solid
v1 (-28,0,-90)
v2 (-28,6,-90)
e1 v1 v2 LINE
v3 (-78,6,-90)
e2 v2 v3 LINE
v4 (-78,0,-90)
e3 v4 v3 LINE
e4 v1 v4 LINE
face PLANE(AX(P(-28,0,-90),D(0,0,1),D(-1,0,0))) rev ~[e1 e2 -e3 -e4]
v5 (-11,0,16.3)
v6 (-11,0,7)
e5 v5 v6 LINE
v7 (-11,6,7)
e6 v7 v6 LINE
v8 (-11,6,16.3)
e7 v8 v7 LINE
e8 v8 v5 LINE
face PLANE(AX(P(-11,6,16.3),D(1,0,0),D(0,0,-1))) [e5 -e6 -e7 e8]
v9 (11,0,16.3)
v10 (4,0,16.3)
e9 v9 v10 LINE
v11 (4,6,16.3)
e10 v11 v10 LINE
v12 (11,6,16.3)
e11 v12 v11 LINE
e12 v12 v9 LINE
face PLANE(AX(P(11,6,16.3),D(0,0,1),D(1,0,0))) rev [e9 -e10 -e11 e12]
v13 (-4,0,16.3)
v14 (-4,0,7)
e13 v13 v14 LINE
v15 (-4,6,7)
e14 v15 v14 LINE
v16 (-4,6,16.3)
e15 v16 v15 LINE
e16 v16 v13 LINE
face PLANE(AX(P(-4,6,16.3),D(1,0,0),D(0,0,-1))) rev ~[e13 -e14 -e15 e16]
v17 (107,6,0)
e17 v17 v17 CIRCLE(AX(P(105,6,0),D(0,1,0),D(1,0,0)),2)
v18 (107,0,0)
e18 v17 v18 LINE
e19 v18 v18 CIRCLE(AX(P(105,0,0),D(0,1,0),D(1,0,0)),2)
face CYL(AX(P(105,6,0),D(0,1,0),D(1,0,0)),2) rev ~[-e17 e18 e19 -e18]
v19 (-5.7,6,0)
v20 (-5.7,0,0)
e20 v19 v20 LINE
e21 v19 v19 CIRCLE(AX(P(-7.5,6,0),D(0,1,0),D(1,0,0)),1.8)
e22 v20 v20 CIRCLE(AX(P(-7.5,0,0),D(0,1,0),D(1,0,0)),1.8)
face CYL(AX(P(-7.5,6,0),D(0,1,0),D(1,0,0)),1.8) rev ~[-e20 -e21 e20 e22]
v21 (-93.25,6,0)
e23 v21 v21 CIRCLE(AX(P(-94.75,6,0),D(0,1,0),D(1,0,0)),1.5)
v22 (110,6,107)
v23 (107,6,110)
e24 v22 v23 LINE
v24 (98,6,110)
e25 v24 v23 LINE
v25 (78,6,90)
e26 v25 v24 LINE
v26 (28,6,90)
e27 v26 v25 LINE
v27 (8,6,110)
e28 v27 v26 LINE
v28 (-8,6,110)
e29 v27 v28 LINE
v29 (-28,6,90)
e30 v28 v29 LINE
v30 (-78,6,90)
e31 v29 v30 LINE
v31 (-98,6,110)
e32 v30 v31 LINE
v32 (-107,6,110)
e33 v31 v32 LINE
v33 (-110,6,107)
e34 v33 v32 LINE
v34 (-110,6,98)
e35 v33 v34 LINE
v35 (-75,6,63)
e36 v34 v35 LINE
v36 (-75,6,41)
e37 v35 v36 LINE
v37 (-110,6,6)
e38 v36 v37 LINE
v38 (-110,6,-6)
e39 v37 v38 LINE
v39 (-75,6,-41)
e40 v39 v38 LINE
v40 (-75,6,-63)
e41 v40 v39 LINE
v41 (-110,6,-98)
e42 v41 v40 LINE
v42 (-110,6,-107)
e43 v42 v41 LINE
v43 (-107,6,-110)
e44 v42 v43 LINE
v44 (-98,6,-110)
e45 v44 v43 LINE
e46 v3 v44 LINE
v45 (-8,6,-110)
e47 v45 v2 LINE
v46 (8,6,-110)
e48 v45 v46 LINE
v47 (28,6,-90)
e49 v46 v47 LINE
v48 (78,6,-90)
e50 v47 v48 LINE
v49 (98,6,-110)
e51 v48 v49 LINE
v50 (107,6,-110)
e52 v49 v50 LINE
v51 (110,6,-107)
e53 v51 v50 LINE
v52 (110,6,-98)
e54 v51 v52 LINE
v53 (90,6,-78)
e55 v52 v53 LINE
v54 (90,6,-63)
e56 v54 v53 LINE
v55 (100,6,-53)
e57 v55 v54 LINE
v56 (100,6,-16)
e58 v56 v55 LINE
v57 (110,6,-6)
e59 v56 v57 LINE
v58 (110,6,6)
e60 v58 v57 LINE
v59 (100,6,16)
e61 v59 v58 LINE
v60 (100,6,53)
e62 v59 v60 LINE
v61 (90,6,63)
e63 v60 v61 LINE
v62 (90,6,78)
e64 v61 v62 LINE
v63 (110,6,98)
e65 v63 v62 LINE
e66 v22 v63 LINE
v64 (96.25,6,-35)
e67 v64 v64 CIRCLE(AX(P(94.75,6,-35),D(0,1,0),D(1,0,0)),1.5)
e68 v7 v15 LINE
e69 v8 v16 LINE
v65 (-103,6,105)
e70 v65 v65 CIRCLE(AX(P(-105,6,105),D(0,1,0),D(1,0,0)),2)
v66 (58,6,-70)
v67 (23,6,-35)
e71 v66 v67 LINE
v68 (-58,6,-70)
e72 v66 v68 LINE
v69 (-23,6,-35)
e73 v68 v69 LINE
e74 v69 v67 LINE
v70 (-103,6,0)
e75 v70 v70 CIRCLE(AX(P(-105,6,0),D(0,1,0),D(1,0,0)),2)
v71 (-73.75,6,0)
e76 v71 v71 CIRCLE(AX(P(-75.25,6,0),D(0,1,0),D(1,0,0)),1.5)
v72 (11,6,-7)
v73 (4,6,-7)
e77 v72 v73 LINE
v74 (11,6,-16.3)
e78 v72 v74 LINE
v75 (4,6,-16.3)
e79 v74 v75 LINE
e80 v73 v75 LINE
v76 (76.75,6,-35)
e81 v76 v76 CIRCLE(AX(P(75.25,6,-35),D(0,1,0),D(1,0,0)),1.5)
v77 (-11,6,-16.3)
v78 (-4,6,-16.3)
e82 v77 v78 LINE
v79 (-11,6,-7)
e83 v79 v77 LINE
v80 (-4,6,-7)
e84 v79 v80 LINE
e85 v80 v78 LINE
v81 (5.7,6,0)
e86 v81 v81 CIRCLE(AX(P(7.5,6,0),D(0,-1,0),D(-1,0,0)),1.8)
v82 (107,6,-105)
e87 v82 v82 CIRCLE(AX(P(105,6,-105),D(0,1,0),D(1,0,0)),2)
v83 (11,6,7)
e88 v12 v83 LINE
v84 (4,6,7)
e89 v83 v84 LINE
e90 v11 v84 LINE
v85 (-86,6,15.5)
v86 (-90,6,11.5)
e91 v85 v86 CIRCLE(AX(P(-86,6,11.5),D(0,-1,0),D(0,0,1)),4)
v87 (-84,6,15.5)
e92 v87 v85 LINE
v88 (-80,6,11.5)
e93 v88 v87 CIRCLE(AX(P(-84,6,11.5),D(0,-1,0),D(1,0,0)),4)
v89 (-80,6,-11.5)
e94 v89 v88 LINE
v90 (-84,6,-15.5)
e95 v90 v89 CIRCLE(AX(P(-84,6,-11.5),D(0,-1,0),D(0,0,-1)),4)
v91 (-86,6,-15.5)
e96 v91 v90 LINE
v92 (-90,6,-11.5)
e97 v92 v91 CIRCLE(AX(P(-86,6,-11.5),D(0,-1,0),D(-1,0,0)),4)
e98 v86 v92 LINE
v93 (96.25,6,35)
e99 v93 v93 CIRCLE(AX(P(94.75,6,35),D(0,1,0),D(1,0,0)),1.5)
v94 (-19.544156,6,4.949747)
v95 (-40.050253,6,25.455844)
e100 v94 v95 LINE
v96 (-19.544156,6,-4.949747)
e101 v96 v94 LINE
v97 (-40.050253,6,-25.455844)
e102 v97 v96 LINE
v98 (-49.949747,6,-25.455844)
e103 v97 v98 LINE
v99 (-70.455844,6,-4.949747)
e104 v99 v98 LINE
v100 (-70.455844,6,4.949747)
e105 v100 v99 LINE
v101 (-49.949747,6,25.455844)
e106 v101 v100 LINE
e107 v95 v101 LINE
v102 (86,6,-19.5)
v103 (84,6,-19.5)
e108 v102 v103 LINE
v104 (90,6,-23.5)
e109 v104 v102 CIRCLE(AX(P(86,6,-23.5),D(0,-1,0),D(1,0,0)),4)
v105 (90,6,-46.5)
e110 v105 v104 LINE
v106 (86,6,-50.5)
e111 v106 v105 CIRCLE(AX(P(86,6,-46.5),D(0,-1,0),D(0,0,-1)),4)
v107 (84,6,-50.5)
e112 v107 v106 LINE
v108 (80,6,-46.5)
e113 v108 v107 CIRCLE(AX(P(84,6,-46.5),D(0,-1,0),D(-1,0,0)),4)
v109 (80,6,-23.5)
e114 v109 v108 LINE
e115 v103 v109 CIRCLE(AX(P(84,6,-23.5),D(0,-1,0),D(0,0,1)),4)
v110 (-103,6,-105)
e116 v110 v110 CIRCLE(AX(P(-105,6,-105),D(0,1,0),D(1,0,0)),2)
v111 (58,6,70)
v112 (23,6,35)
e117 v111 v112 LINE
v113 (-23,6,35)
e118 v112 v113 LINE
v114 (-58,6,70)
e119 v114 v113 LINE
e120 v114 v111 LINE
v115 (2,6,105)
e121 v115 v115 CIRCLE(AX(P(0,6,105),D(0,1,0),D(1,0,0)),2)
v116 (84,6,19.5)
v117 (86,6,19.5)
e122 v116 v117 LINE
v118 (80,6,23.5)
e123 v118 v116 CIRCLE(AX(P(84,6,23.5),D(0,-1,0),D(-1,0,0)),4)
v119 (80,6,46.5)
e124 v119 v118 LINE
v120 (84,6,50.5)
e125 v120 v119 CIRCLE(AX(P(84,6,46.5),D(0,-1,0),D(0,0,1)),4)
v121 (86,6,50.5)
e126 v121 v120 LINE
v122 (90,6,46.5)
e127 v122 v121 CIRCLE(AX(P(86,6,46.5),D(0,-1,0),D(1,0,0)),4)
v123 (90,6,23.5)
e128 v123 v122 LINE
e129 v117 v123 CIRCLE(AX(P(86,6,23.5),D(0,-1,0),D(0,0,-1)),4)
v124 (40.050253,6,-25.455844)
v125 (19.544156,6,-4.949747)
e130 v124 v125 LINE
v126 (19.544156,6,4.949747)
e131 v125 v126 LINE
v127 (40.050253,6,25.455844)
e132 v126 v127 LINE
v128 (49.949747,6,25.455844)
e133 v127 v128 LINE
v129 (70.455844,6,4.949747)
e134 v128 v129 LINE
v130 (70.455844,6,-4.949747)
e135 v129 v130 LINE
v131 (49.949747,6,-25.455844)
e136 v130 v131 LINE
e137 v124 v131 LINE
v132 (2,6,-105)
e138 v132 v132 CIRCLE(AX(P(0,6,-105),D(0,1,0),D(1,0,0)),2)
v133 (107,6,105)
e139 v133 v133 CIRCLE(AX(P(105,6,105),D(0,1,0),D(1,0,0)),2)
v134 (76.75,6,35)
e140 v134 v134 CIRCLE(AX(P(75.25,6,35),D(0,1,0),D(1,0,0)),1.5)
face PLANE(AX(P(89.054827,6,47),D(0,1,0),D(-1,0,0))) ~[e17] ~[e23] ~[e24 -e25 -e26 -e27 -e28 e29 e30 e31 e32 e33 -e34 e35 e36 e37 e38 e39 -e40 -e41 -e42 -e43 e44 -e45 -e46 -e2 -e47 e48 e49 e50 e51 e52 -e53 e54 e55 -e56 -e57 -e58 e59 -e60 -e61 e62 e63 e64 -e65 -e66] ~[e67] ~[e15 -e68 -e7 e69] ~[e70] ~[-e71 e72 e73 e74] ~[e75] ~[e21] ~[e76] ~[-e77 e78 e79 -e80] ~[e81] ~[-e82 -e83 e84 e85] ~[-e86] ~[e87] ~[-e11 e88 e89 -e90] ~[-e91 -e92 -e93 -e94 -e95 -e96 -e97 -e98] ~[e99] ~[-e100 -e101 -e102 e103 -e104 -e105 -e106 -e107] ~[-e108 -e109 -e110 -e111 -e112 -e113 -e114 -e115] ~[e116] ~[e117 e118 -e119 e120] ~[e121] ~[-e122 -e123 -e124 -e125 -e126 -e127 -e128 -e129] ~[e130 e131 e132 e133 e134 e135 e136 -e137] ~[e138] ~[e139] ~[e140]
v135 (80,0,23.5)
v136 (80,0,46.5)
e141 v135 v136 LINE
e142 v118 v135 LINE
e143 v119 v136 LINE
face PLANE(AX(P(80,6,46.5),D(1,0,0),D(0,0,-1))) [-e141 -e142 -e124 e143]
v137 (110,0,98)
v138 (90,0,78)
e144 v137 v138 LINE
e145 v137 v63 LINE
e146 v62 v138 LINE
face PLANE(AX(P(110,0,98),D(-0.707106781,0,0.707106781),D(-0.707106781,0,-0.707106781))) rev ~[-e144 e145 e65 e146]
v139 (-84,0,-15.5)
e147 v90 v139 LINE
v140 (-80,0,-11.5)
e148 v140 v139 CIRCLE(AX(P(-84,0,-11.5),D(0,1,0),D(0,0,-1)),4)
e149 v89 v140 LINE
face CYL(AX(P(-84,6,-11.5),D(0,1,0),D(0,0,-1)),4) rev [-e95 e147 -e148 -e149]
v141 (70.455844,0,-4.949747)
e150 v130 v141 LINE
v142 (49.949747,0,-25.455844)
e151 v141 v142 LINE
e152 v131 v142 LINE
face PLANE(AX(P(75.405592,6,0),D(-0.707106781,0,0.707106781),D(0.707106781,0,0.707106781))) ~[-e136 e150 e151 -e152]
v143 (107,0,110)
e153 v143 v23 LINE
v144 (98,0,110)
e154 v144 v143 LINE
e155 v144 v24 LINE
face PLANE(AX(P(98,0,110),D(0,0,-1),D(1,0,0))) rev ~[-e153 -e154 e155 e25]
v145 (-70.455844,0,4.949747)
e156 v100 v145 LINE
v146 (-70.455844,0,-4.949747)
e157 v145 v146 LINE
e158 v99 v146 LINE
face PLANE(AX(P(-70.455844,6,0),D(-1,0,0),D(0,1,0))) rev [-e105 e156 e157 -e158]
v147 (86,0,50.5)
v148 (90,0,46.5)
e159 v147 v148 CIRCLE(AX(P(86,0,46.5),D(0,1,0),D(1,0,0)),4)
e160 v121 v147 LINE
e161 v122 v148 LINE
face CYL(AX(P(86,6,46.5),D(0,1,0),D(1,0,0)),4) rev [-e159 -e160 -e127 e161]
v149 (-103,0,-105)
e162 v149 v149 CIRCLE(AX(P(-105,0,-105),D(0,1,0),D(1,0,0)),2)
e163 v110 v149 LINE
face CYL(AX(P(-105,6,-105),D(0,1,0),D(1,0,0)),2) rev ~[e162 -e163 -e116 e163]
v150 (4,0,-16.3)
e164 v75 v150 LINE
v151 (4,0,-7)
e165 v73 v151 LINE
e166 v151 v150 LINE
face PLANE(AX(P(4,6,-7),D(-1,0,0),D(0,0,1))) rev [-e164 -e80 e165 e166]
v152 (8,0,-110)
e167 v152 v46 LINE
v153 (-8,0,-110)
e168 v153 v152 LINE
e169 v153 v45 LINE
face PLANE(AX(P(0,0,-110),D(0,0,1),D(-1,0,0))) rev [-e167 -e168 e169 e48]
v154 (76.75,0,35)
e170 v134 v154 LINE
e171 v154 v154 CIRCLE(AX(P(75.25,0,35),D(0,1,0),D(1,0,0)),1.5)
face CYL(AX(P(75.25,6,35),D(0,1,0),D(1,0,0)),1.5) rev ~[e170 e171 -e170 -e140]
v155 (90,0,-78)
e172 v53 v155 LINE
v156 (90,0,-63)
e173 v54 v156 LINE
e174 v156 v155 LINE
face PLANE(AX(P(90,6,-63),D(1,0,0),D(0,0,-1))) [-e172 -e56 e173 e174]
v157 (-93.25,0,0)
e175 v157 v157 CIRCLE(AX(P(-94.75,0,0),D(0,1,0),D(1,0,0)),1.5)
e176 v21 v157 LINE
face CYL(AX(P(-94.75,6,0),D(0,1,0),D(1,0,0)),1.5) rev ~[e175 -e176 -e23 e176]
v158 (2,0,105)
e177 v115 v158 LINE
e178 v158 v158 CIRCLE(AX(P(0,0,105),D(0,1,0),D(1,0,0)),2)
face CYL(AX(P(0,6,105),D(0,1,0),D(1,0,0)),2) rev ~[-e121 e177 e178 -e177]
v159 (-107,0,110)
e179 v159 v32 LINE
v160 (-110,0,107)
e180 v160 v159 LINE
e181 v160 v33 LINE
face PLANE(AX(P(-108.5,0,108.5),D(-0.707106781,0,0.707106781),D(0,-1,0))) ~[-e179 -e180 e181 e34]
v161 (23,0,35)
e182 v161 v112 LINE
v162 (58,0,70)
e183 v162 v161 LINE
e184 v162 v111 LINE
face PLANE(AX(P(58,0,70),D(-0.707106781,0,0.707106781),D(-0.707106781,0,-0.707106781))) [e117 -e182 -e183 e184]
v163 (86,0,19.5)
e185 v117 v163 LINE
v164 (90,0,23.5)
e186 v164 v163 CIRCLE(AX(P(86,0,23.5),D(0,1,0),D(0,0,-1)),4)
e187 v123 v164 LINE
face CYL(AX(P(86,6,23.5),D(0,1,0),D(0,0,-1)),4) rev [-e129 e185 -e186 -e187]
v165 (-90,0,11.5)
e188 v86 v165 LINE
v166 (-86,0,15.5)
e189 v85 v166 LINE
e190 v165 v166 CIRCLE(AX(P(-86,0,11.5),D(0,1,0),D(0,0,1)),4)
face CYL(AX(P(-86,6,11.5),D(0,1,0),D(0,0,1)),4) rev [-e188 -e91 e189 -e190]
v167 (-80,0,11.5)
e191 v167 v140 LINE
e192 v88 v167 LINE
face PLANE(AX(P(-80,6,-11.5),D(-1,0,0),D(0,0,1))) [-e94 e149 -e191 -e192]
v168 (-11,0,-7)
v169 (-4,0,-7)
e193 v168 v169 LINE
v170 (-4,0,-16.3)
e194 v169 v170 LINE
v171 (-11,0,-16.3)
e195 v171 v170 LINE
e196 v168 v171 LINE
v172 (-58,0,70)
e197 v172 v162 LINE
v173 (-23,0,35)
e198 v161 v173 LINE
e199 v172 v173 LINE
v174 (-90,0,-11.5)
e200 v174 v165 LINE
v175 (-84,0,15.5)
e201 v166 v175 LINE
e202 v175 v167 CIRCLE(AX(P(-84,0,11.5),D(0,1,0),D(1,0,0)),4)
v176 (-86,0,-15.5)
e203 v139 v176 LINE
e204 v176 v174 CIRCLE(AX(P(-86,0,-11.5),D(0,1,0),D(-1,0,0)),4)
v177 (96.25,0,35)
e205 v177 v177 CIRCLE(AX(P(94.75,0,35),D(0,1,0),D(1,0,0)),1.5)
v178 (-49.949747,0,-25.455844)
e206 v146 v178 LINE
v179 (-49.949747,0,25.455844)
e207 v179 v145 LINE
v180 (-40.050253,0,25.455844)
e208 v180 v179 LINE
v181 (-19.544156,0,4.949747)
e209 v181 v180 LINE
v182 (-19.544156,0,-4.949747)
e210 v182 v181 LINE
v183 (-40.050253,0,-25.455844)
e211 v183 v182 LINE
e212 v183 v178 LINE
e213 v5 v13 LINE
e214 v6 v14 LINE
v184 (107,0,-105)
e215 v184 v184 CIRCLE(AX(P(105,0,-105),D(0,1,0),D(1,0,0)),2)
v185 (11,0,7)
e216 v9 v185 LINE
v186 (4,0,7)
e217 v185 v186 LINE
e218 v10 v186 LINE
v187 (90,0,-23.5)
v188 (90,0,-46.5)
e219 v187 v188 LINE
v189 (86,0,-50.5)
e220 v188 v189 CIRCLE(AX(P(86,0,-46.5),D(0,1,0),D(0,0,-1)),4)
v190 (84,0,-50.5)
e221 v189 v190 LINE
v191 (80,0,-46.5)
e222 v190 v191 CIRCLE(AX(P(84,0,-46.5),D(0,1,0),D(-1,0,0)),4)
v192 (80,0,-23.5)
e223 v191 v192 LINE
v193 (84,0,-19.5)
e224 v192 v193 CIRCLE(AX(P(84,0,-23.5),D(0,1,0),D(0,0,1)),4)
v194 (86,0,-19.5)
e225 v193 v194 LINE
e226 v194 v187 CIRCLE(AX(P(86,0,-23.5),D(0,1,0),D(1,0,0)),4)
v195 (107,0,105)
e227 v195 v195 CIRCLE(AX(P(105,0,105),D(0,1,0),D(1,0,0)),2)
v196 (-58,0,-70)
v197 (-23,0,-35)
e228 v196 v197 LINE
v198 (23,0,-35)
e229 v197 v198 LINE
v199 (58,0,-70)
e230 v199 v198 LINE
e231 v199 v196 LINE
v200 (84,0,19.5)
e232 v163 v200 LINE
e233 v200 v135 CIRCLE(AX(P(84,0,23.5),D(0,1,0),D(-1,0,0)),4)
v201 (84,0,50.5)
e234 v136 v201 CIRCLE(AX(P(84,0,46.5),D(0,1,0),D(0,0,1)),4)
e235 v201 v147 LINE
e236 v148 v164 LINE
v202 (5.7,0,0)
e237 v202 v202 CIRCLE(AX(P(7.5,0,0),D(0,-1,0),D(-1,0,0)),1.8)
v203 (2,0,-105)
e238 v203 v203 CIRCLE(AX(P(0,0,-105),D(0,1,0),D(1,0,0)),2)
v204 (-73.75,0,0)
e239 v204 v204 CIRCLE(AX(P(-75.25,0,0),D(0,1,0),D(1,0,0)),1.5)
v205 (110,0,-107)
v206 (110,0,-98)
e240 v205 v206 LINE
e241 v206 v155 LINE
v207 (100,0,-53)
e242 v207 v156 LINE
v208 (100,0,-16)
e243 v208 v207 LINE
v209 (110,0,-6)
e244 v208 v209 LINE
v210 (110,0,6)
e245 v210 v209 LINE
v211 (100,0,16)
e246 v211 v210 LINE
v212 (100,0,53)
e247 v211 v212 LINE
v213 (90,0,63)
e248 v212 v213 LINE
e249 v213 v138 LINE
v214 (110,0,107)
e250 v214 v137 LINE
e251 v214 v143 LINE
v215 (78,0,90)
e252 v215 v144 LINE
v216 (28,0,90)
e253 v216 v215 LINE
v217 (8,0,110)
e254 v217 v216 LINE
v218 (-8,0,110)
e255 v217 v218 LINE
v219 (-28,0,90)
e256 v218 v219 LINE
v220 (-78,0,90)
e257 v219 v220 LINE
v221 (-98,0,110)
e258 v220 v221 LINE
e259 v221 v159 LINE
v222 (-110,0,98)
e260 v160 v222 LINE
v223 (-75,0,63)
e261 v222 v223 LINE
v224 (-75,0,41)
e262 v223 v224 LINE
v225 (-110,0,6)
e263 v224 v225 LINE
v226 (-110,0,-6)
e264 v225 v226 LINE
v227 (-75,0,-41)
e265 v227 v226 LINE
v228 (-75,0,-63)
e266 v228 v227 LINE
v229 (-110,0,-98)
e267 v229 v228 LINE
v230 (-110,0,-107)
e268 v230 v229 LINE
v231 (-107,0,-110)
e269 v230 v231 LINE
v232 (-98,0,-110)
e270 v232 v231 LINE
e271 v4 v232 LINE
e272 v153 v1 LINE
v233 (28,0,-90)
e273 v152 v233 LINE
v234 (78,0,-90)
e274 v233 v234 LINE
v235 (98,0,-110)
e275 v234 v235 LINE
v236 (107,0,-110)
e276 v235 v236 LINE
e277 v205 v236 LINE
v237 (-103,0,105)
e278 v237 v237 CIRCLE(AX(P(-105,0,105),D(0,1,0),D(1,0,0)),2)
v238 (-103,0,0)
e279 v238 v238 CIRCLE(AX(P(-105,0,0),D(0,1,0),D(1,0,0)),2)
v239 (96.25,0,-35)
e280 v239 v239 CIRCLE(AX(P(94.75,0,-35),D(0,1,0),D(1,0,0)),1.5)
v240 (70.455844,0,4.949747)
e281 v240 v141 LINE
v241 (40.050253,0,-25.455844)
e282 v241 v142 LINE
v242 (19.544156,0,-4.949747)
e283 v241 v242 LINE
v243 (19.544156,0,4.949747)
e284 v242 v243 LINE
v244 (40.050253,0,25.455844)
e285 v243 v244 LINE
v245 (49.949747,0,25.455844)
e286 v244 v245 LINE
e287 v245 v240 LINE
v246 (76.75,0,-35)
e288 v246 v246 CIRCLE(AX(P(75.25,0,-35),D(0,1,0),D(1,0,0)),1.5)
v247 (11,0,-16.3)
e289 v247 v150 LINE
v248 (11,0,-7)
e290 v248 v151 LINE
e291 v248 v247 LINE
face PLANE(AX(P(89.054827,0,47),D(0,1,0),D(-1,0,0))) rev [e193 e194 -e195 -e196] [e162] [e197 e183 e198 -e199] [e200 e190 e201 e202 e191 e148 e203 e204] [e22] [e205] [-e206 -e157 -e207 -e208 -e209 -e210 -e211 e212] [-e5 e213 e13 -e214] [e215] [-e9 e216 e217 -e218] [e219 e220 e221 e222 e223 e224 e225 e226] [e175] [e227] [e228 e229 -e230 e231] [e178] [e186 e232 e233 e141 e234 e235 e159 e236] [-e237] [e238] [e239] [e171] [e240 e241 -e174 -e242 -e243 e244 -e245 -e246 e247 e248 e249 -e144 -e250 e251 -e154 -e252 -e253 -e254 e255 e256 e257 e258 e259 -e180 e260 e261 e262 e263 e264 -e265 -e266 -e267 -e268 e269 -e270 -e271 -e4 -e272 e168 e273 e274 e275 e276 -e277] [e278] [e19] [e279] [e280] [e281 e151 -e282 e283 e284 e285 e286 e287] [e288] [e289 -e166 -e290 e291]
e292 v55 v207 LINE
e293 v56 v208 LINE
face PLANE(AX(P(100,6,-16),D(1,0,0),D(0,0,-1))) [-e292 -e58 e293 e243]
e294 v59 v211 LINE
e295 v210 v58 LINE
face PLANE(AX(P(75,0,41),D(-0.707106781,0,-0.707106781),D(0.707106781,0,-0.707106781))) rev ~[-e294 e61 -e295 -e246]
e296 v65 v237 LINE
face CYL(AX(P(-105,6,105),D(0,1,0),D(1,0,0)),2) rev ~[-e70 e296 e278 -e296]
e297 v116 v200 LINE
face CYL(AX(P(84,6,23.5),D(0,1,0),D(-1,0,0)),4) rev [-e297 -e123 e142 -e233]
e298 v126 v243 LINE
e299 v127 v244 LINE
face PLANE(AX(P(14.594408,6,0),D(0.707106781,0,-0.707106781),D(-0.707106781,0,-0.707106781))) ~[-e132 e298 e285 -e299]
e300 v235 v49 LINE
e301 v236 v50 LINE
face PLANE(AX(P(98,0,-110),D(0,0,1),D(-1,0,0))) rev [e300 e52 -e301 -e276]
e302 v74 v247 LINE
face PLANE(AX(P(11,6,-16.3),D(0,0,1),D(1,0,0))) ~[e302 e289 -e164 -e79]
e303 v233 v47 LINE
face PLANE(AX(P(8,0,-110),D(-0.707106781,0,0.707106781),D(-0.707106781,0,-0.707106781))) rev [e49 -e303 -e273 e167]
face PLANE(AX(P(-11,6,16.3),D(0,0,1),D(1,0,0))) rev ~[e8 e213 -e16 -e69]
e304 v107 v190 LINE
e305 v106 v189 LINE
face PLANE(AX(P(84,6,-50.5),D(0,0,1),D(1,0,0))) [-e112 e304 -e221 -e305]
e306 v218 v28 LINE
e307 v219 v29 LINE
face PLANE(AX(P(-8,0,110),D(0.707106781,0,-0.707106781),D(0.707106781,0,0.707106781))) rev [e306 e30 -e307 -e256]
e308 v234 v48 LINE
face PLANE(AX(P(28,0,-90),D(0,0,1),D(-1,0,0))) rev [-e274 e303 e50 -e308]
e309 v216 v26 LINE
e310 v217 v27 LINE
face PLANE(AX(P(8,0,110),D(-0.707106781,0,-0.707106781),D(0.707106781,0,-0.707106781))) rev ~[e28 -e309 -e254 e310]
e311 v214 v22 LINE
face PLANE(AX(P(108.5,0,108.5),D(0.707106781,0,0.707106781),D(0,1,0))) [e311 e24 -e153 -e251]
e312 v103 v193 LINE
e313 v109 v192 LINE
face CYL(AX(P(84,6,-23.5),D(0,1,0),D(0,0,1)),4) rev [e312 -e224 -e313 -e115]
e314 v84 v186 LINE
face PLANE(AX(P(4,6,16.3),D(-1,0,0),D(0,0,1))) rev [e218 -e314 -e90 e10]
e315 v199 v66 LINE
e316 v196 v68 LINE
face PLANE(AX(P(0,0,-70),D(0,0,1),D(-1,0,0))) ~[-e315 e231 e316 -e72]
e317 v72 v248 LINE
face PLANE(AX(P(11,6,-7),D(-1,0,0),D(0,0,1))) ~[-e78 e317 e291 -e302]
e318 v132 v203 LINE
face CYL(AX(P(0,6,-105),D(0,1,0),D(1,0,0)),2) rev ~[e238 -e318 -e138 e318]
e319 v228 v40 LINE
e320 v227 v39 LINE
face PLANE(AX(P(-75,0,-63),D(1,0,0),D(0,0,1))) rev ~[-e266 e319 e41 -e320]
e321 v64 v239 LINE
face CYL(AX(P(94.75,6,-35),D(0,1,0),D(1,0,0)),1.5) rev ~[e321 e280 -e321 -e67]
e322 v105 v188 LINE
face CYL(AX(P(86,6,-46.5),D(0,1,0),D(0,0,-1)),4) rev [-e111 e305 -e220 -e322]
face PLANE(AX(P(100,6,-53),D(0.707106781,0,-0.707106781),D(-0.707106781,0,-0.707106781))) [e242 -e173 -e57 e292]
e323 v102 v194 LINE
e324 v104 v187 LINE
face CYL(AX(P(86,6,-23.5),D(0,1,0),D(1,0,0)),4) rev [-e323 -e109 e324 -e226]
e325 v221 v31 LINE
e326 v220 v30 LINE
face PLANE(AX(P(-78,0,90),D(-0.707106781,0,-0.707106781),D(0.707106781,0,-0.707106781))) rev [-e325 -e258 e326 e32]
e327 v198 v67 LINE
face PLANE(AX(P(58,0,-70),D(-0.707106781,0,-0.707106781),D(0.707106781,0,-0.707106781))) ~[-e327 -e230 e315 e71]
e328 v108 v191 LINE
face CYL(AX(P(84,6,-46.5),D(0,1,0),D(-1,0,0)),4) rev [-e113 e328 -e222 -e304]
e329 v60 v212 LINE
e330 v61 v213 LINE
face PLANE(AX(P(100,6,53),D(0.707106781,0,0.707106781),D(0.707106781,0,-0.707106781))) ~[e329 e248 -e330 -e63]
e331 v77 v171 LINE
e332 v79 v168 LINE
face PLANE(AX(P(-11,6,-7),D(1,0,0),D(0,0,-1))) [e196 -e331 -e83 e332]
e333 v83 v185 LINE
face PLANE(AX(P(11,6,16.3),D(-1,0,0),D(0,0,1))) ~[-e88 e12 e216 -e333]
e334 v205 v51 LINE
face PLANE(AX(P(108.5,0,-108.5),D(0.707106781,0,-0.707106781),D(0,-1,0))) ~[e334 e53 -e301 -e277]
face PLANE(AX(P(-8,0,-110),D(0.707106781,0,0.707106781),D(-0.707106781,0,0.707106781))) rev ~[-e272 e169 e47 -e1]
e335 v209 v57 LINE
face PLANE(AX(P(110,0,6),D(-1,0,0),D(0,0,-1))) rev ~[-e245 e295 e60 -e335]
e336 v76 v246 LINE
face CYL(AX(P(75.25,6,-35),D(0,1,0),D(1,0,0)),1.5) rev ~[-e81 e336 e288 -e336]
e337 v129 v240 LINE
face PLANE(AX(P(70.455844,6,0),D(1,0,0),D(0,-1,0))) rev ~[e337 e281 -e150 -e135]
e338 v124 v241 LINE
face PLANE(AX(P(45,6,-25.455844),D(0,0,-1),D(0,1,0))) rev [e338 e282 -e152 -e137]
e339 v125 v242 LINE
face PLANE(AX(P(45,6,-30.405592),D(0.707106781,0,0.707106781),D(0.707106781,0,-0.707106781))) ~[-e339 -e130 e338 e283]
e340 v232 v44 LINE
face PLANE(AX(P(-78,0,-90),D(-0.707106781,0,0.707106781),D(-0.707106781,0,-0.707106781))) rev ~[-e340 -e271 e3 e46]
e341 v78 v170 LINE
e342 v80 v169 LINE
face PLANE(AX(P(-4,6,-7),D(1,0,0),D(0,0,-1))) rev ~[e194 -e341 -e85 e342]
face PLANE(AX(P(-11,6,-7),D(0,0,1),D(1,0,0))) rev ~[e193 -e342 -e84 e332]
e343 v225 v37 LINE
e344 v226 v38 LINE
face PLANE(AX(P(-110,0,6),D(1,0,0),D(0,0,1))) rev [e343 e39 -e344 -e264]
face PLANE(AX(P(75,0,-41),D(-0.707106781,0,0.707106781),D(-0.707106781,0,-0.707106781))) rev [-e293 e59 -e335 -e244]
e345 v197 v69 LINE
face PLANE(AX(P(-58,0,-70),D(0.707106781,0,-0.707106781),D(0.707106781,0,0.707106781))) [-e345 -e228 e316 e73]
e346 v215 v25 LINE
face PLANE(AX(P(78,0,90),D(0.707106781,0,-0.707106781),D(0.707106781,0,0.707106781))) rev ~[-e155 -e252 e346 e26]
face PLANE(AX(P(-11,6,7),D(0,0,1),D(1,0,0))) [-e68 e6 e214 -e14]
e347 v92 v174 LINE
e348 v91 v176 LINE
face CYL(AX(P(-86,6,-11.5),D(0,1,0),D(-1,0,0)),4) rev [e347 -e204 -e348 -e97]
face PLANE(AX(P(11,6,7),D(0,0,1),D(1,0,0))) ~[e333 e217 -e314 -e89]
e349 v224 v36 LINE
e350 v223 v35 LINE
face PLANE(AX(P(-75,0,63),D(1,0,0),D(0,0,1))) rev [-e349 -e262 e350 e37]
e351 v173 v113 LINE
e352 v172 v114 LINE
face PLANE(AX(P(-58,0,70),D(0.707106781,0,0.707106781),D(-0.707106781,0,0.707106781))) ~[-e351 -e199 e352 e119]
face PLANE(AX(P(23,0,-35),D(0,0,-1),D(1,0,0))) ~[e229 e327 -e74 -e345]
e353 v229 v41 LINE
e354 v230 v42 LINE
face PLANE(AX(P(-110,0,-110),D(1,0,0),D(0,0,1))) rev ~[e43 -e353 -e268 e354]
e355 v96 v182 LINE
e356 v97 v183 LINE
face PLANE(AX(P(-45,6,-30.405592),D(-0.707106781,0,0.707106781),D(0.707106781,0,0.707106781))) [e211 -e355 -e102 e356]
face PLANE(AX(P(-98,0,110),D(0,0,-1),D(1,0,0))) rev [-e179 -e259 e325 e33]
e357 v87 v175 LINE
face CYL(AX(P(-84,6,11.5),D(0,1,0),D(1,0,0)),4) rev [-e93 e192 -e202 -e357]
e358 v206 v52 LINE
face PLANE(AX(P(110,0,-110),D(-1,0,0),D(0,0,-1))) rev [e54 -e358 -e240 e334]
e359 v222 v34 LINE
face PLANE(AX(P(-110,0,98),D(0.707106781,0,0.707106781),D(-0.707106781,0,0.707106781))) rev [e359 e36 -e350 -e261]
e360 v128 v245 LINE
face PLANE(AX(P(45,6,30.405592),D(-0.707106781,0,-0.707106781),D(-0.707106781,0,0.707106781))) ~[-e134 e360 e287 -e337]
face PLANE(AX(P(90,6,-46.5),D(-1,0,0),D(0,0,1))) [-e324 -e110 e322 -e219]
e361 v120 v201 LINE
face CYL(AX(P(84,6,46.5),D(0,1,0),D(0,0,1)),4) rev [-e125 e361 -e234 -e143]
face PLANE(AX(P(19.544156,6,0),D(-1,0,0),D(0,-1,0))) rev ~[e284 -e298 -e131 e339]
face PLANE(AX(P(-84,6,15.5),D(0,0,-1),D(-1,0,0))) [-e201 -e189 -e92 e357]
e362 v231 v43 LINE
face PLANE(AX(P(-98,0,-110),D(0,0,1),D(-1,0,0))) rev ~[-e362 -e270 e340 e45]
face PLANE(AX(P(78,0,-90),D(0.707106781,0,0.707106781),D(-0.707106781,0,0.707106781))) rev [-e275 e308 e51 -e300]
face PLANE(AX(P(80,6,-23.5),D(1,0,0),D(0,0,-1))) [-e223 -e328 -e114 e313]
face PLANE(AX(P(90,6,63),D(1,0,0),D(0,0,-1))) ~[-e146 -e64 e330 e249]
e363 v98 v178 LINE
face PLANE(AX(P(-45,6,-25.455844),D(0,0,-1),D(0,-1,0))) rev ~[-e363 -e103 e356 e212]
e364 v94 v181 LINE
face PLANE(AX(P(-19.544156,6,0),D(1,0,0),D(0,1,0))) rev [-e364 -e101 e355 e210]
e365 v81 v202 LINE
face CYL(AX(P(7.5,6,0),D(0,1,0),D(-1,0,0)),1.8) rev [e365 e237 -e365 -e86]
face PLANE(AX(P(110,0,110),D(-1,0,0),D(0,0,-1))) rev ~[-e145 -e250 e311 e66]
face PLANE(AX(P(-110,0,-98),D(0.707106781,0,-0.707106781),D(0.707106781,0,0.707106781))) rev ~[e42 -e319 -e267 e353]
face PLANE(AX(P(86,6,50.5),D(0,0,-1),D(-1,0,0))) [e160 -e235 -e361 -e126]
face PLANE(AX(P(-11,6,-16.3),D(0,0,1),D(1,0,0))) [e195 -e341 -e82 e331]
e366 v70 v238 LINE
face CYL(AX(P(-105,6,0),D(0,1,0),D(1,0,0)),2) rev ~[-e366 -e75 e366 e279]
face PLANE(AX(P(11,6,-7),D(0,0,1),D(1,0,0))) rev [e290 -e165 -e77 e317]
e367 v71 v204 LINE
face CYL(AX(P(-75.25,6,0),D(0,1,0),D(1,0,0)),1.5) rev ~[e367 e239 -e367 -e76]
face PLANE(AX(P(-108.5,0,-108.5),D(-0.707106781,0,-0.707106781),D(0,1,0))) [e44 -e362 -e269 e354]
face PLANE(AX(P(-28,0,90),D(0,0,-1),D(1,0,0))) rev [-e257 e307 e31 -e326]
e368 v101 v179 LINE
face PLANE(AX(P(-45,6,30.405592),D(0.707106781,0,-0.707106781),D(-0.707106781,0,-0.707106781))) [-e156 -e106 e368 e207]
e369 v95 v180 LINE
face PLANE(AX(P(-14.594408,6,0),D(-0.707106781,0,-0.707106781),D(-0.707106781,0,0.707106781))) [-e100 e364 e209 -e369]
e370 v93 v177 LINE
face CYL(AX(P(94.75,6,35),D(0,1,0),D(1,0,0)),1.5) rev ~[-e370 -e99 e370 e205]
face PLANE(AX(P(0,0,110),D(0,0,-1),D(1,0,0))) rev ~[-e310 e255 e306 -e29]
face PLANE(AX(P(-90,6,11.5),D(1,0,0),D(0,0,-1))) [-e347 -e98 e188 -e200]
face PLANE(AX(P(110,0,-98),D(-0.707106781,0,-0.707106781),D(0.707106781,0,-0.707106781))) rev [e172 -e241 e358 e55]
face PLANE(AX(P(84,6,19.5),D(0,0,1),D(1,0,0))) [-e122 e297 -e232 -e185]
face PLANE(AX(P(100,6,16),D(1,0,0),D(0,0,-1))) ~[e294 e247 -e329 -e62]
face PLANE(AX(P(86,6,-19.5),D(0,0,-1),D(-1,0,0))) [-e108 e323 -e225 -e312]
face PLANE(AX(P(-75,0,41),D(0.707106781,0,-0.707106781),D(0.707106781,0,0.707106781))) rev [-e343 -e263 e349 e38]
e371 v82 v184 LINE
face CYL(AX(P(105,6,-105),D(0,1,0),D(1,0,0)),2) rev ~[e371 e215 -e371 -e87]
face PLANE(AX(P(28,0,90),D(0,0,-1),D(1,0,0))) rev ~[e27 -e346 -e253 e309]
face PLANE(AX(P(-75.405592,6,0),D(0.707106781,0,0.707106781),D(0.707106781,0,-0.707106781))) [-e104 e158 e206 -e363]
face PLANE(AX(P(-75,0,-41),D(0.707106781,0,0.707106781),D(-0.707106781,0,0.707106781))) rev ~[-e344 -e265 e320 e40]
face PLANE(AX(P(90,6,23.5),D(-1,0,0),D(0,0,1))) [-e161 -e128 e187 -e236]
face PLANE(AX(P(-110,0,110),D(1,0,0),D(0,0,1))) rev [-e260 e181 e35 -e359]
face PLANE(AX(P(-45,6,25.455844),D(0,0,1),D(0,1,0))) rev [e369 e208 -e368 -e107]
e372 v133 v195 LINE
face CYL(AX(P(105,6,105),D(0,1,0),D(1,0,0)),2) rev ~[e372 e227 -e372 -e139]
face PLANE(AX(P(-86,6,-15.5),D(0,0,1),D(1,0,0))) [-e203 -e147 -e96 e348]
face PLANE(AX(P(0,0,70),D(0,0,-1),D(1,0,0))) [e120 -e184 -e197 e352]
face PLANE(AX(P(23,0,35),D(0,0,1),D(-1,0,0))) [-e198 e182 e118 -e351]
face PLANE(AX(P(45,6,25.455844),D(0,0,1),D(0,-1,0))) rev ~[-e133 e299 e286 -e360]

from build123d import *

# Parameters (mm, degrees)
BOSS_EXTRU_1_DEPTH      = 6
ENL_V_MAT_EXTRU_2_DEPTH = 6
CHANFREIN1_SIZE         = 3
ESQUISSE4_R             = 1.8
ESQUISSE4_W             = 7
ESQUISSE4_H             = 9.3
ENL_V_MAT_EXTRU_3_DEPTH = 6
CHANFREIN2_SIZE         = 7
BOSS_EXTRU_2_DEPTH      = 6
ESQUISSE11_R            = 2
ENL_V_MAT_EXTRU_6_DEPTH = 6
ESQUISSE12_R            = 1.5
ENL_V_MAT_EXTRU_7_DEPTH = 10


with BuildPart() as part:
    # Esquisse1 → Boss.-Extru.1 (new body)
    with BuildSketch(Plane(origin=(0, 0, 0), x_dir=(1, 0, 0), z_dir=(0, 1, 0))):
        Polygon((0, 0), (0, 110), (-8, 110), (-28, 90), (-78, 90), (-98, 110), (-110, 110), (-110, 98), (-75, 63), (-75, 41), (-110, 6), (-110, 0), align=None)
    extrude(amount=BOSS_EXTRU_1_DEPTH)

    # Esquisse3 → Enlèv. mat.-Extru.2 (cut)
    with BuildSketch(Plane(origin=(0, 0, 0), x_dir=(1, 0, 0), z_dir=(0, 1, 0))):
        Polygon((0, 70), (-58, 70), (-23, 35), (0, 35), align=None)
    extrude(amount=ENL_V_MAT_EXTRU_2_DEPTH, mode=Mode.SUBTRACT)

    # Chanfrein1
    chanfrein1_edges = [part.edges().sort_by_distance(p)[0] for p in [
        (-110, 3, -110),
    ]]
    chamfer(chanfrein1_edges, length=CHANFREIN1_SIZE)

    # Symétrie3: part across plane


with BuildPart() as part_1:
    add(part.part)
    add(part.part.mirror(Plane(origin=(-110, 6, 0), x_dir=(1, 0, 0), z_dir=(0, 0, -1))))

    # Esquisse4 → Enlèv. mat.-Extru.3 (cut)
    with BuildSketch(Plane(origin=(0, 6, 0), x_dir=(1, 0, 0), z_dir=(0, 1, 0))):
        with Locations((-7.5, 0)):
            Circle(ESQUISSE4_R)
        Polygon((-45, 30.405591591), (-14.594408409, 0), (-45, -30.405591591), (-75.405591591, 0), align=None)
        with Locations((-7.5, 11.65)):
            Rectangle(ESQUISSE4_W, ESQUISSE4_H)
        with Locations((-7.5, -11.65)):
            Rectangle(ESQUISSE4_W, ESQUISSE4_H)
    extrude(amount=-ENL_V_MAT_EXTRU_3_DEPTH, mode=Mode.SUBTRACT)

    # Chanfrein2
    chanfrein2_edges = [part_1.edges().sort_by_distance(p)[0] for p in [
        (-14.594408409, 3, 0),
        (-45, 3, 30.405591591),
        (-75.405591591, 3, 0),
        (-45, 3, -30.405591591),
    ]]
    chamfer(chanfrein2_edges, length=CHANFREIN2_SIZE)

    # Symétrie5: part across plane


with BuildPart() as part_2:
    add(part_1.part)
    add(part_1.part.mirror(Plane(origin=(0, 6, 0), x_dir=(0, 0, 1), z_dir=(-1, 0, 0))))

    # Esquisse8 → Boss.-Extru.2 (add)
    with BuildSketch(Plane(origin=(0, 6, 0), x_dir=(1, 0, 0), z_dir=(0, 1, 0))):
        Polygon((100, 16), (100, 53), (90, 63), (90, 78), (75, 63), (75, 41), align=None)
    boss_extru_2 = extrude(amount=-BOSS_EXTRU_2_DEPTH)

    # Esquisse11 → Enlèv. mat.-Extru.6 (cut)
    with BuildSketch(Plane(origin=(0, 6, 0), x_dir=(1, 0, 0), z_dir=(0, 1, 0))):
        with Locations((-105, 105)):
            Circle(ESQUISSE11_R)
        with Locations((0, 105)):
            Circle(ESQUISSE11_R)
        with Locations((105, 105)):
            Circle(ESQUISSE11_R)
        with Locations((105, 0)):
            Circle(ESQUISSE11_R)
        with Locations((105, -105)):
            Circle(ESQUISSE11_R)
        with Locations((0, -105)):
            Circle(ESQUISSE11_R)
        with Locations((-105, -105)):
            Circle(ESQUISSE11_R)
        with Locations((-105, 0)):
            Circle(ESQUISSE11_R)
    extrude(amount=-ENL_V_MAT_EXTRU_6_DEPTH, mode=Mode.SUBTRACT)

    # Symétrie6: Boss.-Extru.2 across plane
    add(boss_extru_2.mirror(Plane.XY))

    # Esquisse12 → Enlèv. mat.-Extru.7 (cut)
    with BuildSketch(Plane(origin=(0, 6, 0), x_dir=(1, 0, 0), z_dir=(0, 1, 0))):
        with Locations((-94.75, 0)):
            Circle(ESQUISSE12_R)
        with Locations((-75.25, 0)):
            Circle(ESQUISSE12_R)
        with Locations((75.25, 35)):
            Circle(ESQUISSE12_R)
        with Locations((94.75, 35)):
            Circle(ESQUISSE12_R)
        with Locations((75.25, -35)):
            Circle(ESQUISSE12_R)
        with Locations((94.75, -35)):
            Circle(ESQUISSE12_R)
        with BuildLine():
            Line((-86, 15.5), (-84, 15.5))
            ThreePointArc((-84, 15.5), (-81.171572875, 14.328427125), (-80, 11.5))
            Line((-80, 11.5), (-80, -11.5))
            ThreePointArc((-80, -11.5), (-81.171572875, -14.328427125), (-84, -15.5))
            Line((-84, -15.5), (-86, -15.5))
            ThreePointArc((-86, -15.5), (-88.828427125, -14.328427125), (-90, -11.5))
            Line((-90, -11.5), (-90, 11.5))
            ThreePointArc((-90, 11.5), (-88.828427125, 14.328427125), (-86, 15.5))
        make_face()
        with BuildLine():
            Line((84, 50.5), (86, 50.5))
            ThreePointArc((86, 50.5), (88.828427125, 49.328427125), (90, 46.5))
            Line((90, 46.5), (90, 23.5))
            ThreePointArc((90, 23.5), (88.828427125, 20.671572875), (86, 19.5))
            Line((86, 19.5), (84, 19.5))
            ThreePointArc((84, 19.5), (81.171572875, 20.671572875), (80, 23.5))
            Line((80, 23.5), (80, 46.5))
            ThreePointArc((80, 46.5), (81.171572875, 49.328427125), (84, 50.5))
        make_face()
        with BuildLine():
            Line((84, -19.5), (86, -19.5))
            ThreePointArc((86, -19.5), (88.828427125, -20.671572875), (90, -23.5))
            Line((90, -23.5), (90, -46.5))
            ThreePointArc((90, -46.5), (88.828427125, -49.328427125), (86, -50.5))
            Line((86, -50.5), (84, -50.5))
            ThreePointArc((84, -50.5), (81.171572875, -49.328427125), (80, -46.5))
            Line((80, -46.5), (80, -23.5))
            ThreePointArc((80, -23.5), (81.171572875, -20.671572875), (84, -19.5))
        make_face()
    extrude(amount=-ENL_V_MAT_EXTRU_7_DEPTH, mode=Mode.SUBTRACT)


solid = part_2.part
